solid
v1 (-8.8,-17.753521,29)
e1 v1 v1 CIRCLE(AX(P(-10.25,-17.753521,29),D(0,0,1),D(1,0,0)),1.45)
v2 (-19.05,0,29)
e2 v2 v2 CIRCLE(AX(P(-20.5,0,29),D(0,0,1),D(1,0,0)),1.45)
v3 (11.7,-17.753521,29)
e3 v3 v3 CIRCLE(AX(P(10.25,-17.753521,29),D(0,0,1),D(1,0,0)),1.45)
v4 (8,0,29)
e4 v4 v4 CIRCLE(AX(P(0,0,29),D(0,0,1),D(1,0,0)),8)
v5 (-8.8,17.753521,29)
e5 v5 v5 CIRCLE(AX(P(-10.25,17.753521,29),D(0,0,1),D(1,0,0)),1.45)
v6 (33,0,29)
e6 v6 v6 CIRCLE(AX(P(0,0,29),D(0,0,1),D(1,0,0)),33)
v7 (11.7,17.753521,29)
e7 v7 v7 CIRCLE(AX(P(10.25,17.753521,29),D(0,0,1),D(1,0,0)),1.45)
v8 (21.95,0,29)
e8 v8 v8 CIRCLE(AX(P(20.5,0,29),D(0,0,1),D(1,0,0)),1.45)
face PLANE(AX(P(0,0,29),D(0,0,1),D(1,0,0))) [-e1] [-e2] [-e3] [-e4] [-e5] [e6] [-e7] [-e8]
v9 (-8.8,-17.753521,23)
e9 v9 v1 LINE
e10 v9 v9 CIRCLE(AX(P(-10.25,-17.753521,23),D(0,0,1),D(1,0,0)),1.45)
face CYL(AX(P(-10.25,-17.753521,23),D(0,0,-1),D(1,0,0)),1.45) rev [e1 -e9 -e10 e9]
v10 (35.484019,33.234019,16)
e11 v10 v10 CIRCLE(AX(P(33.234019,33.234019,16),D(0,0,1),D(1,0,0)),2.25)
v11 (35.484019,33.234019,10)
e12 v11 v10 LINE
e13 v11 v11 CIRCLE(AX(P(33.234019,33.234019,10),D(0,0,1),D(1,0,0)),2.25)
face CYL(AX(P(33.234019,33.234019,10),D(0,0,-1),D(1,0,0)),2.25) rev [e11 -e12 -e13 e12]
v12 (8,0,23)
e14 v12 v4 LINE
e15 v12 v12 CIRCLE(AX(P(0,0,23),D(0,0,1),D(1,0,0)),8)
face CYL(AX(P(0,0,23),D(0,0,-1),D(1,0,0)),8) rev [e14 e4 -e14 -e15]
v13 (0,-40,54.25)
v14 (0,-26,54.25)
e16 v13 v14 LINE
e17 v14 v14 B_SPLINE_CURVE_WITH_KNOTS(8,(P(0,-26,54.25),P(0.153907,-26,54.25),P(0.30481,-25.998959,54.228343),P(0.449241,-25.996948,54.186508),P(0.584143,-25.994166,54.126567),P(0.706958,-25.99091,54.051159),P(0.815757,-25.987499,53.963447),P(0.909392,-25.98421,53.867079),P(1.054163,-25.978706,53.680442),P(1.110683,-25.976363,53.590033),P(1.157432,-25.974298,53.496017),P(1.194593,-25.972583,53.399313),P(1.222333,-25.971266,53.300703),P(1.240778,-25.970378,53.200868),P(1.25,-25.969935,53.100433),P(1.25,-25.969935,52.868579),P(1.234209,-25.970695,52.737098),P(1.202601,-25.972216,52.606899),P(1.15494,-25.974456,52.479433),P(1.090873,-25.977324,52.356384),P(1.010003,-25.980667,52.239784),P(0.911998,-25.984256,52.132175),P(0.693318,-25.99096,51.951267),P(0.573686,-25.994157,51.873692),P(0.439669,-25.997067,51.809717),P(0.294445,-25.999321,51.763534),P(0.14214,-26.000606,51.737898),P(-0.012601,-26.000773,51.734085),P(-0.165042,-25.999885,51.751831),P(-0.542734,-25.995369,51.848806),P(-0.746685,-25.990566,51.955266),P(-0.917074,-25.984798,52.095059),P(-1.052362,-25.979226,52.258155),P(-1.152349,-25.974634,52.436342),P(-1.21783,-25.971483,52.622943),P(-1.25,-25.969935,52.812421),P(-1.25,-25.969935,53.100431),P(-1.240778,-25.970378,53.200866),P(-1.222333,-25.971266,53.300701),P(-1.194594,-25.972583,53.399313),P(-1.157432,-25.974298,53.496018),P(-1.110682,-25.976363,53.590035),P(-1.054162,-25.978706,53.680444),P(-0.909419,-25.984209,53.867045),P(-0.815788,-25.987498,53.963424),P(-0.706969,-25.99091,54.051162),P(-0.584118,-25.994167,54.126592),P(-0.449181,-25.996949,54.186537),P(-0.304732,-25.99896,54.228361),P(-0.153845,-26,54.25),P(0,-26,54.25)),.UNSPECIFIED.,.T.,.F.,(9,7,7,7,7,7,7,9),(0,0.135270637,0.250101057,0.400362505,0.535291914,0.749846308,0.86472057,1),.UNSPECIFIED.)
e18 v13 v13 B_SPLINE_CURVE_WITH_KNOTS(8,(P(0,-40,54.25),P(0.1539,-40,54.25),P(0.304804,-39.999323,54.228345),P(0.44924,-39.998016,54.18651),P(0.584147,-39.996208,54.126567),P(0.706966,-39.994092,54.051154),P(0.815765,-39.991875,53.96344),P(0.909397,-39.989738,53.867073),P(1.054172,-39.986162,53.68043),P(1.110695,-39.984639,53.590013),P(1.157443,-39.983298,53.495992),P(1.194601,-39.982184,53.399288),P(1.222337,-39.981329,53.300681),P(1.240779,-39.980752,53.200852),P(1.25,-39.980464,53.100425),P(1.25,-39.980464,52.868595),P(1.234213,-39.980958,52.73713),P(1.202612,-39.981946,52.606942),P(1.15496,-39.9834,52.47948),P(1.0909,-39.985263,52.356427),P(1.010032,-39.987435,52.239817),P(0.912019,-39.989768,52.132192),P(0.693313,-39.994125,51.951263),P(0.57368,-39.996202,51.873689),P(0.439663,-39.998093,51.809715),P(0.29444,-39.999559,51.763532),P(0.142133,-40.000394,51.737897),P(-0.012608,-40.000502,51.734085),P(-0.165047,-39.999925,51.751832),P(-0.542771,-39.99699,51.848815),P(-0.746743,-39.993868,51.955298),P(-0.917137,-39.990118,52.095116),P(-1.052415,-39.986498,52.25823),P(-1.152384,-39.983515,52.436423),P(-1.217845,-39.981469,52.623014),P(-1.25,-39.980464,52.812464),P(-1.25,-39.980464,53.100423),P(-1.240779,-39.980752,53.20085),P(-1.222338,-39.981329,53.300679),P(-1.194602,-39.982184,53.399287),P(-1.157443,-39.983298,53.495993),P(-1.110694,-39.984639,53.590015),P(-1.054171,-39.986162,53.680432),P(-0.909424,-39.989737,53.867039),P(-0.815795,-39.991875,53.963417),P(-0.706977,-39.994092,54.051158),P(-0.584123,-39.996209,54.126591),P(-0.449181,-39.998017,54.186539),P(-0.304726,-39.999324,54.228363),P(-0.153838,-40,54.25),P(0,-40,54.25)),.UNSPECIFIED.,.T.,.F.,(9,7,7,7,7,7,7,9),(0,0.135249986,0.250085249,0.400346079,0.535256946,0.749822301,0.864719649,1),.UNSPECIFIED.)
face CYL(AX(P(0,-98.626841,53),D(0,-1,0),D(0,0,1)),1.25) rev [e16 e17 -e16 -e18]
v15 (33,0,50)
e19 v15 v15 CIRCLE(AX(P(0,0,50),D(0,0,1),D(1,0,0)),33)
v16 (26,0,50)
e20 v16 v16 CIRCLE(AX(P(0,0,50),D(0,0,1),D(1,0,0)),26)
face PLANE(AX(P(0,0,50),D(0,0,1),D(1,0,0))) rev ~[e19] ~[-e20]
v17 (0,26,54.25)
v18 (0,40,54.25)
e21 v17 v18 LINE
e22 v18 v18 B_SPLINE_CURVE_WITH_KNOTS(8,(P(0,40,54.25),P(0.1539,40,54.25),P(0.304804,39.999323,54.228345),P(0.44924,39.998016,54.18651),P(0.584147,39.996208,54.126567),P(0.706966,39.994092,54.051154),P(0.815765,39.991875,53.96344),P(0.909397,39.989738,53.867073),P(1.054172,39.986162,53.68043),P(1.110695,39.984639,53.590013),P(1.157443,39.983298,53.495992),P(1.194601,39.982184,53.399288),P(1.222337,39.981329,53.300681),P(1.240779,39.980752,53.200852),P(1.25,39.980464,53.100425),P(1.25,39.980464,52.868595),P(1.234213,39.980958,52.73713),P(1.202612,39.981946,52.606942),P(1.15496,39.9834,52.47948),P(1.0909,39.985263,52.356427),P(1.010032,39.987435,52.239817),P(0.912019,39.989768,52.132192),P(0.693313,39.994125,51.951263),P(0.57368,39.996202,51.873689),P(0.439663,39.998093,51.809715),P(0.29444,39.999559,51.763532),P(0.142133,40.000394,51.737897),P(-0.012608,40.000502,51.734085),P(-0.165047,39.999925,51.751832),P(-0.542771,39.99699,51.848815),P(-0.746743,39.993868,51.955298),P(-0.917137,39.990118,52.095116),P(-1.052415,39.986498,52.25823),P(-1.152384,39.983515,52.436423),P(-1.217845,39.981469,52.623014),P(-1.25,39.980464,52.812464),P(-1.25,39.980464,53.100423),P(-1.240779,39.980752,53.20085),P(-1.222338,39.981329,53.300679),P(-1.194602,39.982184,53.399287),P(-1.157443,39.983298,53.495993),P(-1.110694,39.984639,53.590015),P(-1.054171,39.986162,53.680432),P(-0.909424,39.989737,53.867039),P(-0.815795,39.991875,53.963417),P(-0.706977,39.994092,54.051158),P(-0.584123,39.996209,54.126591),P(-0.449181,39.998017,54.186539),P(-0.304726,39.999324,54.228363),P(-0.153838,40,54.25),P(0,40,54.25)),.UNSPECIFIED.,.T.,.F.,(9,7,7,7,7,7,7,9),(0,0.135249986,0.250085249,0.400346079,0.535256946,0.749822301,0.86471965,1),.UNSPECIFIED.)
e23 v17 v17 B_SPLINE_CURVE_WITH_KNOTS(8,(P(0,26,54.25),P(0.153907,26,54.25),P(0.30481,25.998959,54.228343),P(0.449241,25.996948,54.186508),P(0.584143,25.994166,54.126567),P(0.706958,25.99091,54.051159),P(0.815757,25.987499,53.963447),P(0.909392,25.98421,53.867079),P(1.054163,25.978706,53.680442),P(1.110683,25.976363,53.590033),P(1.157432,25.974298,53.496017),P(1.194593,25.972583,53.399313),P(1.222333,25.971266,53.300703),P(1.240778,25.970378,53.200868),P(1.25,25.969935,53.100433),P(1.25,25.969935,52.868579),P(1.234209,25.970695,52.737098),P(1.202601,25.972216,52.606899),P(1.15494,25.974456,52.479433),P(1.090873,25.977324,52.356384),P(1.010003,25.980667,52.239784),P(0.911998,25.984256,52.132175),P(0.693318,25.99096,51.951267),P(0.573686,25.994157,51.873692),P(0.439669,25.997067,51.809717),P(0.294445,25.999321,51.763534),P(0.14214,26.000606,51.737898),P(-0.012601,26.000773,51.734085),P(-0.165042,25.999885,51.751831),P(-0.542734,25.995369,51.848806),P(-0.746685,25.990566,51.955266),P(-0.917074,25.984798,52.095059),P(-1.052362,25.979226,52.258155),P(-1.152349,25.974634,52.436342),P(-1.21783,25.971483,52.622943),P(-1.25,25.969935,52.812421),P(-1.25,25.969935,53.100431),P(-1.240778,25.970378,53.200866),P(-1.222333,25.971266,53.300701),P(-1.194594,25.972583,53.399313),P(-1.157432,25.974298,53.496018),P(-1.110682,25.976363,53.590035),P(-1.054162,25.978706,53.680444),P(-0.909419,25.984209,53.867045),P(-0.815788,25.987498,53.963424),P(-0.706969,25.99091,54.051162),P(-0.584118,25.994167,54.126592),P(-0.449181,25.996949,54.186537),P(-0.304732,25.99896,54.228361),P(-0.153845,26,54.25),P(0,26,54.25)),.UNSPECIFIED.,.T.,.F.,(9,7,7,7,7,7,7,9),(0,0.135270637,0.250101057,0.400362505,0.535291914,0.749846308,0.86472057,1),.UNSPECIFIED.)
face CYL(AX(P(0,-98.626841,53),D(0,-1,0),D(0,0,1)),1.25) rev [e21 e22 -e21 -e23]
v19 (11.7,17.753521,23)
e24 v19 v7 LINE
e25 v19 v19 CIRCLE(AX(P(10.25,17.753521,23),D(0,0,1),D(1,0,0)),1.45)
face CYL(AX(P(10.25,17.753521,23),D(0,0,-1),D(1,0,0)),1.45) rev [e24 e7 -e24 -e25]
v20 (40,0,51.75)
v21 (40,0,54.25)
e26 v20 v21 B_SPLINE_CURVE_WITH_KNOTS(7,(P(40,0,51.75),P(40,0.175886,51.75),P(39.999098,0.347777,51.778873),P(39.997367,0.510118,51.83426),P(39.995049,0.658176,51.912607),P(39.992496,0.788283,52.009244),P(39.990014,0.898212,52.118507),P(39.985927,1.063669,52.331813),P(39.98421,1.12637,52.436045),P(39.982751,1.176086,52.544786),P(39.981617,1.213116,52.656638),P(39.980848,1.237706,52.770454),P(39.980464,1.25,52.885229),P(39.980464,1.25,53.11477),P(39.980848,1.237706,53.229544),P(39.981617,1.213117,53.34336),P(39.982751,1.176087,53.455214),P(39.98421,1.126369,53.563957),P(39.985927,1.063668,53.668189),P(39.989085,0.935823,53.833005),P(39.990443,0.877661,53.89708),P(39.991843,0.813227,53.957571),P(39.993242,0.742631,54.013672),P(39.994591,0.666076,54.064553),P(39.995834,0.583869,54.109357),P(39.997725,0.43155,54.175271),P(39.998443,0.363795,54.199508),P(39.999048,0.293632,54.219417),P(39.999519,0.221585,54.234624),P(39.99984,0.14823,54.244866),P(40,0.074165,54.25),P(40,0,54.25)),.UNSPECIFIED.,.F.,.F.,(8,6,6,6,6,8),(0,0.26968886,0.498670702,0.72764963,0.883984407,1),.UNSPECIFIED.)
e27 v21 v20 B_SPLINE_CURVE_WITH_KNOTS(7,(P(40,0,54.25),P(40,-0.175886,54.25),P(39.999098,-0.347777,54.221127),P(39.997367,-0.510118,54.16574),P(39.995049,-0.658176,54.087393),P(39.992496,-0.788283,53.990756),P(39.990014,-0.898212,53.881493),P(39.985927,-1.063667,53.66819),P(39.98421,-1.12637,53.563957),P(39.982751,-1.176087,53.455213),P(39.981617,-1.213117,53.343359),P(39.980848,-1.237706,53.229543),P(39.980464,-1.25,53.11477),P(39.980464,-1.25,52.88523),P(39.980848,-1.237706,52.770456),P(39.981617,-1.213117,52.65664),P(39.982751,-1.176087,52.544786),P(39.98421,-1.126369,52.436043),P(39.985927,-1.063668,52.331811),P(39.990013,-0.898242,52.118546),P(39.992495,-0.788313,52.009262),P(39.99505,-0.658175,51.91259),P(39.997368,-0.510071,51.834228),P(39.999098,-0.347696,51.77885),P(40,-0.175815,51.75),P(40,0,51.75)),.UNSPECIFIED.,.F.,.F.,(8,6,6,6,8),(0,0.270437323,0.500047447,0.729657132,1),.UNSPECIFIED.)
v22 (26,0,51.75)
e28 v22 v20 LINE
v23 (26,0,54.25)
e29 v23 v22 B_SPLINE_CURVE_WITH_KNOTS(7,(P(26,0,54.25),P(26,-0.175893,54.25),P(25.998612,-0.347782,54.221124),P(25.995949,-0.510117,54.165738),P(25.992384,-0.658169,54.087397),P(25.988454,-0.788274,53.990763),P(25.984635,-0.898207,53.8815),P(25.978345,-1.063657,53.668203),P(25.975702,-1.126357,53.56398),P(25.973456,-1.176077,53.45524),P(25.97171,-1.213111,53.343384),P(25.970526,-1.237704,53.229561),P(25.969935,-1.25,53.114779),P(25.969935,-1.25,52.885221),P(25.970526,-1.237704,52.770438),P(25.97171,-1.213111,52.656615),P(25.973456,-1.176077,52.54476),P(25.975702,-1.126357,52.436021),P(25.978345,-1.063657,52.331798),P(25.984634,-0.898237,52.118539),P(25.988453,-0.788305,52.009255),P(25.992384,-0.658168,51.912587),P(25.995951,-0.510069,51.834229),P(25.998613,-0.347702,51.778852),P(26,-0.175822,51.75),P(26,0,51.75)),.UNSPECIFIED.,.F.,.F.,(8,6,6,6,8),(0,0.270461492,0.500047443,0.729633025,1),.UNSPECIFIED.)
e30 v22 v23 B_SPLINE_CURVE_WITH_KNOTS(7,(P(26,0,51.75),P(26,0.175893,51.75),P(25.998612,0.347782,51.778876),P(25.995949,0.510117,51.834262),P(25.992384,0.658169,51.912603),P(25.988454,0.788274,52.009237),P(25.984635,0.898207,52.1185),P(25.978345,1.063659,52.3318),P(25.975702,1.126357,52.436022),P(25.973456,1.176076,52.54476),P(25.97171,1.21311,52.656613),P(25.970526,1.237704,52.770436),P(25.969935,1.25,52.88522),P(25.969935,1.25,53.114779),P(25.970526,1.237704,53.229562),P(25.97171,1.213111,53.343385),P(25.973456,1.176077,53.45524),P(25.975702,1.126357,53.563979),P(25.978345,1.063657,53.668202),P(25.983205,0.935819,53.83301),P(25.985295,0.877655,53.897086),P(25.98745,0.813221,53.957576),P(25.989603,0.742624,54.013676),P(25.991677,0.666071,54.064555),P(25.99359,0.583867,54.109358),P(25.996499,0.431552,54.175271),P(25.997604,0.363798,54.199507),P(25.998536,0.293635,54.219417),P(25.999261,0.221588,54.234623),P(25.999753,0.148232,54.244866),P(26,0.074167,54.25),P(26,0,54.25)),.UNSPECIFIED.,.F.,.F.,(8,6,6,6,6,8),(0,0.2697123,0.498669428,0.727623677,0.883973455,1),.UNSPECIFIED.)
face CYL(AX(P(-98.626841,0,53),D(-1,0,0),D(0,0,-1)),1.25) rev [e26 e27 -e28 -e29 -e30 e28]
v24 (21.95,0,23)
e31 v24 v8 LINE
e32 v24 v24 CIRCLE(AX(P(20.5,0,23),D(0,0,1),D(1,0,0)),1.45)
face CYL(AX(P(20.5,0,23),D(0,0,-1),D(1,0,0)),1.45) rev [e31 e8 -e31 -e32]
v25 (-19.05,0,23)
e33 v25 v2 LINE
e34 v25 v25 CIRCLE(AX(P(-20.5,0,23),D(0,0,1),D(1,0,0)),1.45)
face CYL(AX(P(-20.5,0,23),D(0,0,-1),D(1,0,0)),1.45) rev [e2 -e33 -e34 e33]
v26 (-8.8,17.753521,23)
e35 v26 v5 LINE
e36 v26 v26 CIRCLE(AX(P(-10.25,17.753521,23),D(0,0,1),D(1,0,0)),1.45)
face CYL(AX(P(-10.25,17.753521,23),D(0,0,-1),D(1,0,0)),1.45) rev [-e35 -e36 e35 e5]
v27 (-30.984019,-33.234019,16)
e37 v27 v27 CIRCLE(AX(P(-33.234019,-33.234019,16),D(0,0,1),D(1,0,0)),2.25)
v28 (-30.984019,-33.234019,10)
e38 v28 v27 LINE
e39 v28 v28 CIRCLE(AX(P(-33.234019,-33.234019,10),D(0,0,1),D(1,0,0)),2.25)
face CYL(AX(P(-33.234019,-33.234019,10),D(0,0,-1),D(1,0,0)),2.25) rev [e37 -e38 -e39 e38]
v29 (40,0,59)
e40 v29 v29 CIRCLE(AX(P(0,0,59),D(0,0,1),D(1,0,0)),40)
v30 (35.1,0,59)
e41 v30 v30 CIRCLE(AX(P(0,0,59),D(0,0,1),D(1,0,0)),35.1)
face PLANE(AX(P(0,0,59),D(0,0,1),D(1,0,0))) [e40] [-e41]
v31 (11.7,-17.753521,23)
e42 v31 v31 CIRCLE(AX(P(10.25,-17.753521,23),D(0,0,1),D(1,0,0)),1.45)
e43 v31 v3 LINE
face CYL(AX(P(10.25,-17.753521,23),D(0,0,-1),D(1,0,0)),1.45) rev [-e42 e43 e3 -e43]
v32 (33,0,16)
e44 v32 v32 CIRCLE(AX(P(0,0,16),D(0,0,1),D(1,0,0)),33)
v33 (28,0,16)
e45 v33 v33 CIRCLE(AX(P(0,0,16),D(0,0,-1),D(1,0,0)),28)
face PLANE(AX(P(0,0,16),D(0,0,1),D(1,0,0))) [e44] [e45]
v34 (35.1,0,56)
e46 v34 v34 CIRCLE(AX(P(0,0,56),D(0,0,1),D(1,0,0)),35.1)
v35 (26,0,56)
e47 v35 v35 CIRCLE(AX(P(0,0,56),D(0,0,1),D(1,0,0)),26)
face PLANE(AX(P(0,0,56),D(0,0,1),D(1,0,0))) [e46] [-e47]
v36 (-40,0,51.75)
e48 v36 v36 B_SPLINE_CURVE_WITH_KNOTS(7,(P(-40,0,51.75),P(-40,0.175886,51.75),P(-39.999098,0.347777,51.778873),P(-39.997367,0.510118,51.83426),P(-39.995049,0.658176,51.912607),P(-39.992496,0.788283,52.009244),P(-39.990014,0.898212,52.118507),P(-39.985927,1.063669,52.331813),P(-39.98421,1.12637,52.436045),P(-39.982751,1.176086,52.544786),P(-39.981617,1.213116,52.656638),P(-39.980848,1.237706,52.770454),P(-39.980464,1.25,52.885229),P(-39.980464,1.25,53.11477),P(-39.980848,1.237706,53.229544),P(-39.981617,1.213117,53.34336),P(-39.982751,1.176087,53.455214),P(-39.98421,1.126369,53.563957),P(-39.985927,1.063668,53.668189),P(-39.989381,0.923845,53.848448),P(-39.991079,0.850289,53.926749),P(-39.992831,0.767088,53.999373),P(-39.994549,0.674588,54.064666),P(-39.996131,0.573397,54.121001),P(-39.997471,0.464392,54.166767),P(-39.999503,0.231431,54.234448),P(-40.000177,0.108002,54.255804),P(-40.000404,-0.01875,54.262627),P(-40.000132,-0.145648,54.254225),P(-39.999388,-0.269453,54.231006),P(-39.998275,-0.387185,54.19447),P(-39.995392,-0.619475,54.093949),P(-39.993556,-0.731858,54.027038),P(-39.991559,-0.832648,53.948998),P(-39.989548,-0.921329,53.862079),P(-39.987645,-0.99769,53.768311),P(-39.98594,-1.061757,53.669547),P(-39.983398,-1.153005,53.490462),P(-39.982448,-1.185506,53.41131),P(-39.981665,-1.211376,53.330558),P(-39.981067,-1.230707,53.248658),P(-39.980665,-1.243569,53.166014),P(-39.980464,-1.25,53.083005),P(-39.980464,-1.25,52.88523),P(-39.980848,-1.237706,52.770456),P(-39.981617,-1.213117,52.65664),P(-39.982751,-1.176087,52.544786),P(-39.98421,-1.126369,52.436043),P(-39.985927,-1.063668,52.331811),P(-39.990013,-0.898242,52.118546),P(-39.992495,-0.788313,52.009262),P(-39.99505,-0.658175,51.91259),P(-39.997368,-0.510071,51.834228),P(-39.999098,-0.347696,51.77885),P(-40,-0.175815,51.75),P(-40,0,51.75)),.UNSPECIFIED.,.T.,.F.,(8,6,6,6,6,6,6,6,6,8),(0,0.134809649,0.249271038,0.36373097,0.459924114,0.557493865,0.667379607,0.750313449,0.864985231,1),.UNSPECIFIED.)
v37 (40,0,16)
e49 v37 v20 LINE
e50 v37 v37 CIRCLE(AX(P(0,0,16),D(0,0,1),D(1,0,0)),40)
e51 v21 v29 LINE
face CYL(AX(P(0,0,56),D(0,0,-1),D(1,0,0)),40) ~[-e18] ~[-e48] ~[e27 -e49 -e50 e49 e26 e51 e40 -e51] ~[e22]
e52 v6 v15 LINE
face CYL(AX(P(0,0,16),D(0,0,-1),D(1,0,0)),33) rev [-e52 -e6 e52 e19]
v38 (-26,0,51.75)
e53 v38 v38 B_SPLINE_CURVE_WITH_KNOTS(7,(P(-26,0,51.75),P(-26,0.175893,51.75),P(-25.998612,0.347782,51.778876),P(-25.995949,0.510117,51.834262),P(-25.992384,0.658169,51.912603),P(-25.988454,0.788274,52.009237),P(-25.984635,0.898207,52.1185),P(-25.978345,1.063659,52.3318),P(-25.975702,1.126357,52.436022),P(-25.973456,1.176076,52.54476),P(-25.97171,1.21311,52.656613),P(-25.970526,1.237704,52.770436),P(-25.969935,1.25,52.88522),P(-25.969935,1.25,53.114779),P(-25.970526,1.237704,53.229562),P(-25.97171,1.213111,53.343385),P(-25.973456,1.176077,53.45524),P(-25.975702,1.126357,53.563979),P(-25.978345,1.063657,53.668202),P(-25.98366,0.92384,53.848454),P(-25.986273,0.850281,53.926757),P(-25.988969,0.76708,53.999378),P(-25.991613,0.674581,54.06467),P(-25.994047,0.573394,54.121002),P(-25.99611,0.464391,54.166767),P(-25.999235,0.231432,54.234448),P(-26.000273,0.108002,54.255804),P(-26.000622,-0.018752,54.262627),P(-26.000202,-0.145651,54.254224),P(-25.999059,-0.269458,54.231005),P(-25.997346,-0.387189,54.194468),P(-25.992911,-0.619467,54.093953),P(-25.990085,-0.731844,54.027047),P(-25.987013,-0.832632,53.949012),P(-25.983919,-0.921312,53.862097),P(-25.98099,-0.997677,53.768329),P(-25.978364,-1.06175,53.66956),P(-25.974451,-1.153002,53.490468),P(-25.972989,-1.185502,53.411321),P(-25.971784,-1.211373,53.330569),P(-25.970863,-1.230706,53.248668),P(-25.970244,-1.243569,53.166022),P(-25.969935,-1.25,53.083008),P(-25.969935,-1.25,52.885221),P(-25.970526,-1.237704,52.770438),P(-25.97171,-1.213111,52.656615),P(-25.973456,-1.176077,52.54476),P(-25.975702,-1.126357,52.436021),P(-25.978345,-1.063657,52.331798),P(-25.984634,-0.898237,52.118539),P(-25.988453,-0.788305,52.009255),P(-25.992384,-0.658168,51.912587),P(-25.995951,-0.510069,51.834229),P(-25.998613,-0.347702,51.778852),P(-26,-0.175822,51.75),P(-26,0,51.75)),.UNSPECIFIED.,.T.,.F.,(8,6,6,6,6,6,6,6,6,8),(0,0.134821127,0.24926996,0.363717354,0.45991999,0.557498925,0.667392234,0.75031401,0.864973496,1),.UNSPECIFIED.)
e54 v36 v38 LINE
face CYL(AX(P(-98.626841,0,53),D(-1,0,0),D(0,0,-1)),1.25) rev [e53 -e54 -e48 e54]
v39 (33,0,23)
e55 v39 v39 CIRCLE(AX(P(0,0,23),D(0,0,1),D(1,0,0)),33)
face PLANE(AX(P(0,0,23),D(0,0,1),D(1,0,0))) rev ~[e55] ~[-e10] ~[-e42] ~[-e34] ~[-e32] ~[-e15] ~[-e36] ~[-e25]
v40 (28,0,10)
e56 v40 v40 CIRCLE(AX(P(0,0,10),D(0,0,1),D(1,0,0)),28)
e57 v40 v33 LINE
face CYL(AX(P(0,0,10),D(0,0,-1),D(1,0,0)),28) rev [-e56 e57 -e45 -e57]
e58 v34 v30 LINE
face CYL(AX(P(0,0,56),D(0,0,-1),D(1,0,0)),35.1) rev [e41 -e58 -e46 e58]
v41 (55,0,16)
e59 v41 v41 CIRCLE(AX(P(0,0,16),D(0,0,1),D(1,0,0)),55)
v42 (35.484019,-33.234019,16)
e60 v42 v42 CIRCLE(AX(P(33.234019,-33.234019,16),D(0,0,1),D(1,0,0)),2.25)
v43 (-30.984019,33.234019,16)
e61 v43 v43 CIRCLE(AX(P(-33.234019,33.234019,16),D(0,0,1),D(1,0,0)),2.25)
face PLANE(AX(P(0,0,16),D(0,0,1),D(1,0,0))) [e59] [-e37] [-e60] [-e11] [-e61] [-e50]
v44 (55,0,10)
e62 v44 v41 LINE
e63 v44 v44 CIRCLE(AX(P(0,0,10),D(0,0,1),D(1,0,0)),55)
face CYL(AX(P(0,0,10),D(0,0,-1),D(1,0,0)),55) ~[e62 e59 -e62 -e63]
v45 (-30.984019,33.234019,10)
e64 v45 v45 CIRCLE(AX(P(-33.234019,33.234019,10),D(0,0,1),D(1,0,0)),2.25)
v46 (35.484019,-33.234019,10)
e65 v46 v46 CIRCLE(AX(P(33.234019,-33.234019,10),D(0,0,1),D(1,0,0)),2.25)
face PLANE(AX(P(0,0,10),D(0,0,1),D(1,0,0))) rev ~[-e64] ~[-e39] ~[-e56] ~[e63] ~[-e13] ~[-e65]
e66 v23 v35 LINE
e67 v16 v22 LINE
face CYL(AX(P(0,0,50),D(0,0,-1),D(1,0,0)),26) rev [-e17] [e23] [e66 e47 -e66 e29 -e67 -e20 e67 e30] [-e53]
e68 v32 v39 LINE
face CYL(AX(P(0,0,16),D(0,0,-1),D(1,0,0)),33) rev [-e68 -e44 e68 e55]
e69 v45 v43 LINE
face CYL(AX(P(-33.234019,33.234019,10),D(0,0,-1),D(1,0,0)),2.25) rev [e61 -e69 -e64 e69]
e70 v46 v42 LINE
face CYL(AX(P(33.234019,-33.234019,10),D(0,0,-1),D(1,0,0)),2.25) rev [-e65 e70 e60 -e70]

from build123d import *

# Parameters (mm, degrees)
BRIDA_START                               = 10
SK_BRIDA_R                                = 55
BRIDA_DEPTH                               = 6
TUBO_START                                = 16
SK_TUBO_R                                 = 40
SK_TUBO_R_2                               = 33
TUBO_DEPTH                                = 34
ARO_RODAMIENTO_START                      = 50
SK_ARO_RODAMIENTO_R                       = 40
SK_ARO_RODAMIENTO_R_2                     = 26
ARO_RODAMIENTO_DEPTH                      = 6
ASIENTO_ARANDELA_ALOJAMIENTO_51110_START  = 56
SK_ASIENTO_ARANDELA_ALOJAMIENTO_51110_R   = 40
SK_ASIENTO_ARANDELA_ALOJAMIENTO_51110_R_2 = 35.1
ASIENTO_ARANDELA_ALOJAMIENTO_51110_DEPTH  = 3
PLACA_MOTOR_START                         = 23
SK_PLACA_MOTOR_R                          = 33
PLACA_MOTOR_DEPTH                         = 6
HUECO_BRIDA_START                         = 10
SK_HUECO_BRIDA_R                          = 28
HUECO_BRIDA_DEPTH                         = 13
CENTRO_MOTOR_START                        = 23
SK_CENTRO_MOTOR_R                         = 8
CENTRO_MOTOR_DEPTH                        = 6
PASANTES_M2_5_MOTOR_START                 = 23
SK_PASANTES_M2_5_MOTOR_R                  = 1.45
PASANTES_M2_5_MOTOR_DEPTH                 = 6
PASANTES_M4_BRIDA_START                   = 10
SK_PASANTES_M4_BRIDA_R                    = 2.25
PASANTES_M4_BRIDA_DEPTH                   = 6
ROSCA_M3_CUBIERTA_A_DEPTH                 = 98.626840572
ROSCA_M3_CUBIERTA_A_DEPTH_BACK            = 98.626840572
CROQUIS1_R                                = 1.25
ROSCA_M3_CUBIERTA_B_DEPTH                 = 98.626840632
ROSCA_M3_CUBIERTA_B_DEPTH_BACK            = 98.626840632
CROQUIS2_R                                = 1.25


with BuildPart() as part:
    # Sk_Brida → Brida (new body)
    with BuildSketch(Plane.XY.offset(BRIDA_START)):
        Circle(SK_BRIDA_R)
    extrude(amount=BRIDA_DEPTH)

    # Sk_Tubo → Tubo (add)
    with BuildSketch(Plane.XY.offset(TUBO_START)):
        Circle(SK_TUBO_R)
        Circle(SK_TUBO_R_2, mode=Mode.SUBTRACT)
    extrude(amount=TUBO_DEPTH)

    # Sk_Aro_rodamiento → Aro_rodamiento (add)
    with BuildSketch(Plane.XY.offset(ARO_RODAMIENTO_START)):
        Circle(SK_ARO_RODAMIENTO_R)
        Circle(SK_ARO_RODAMIENTO_R_2, mode=Mode.SUBTRACT)
    extrude(amount=ARO_RODAMIENTO_DEPTH)

    # Sk_Asiento_arandela_alojamiento_51110 → Asiento_arandela_alojamiento_51110 (add)
    with BuildSketch(Plane.XY.offset(ASIENTO_ARANDELA_ALOJAMIENTO_51110_START)):
        Circle(SK_ASIENTO_ARANDELA_ALOJAMIENTO_51110_R)
        Circle(SK_ASIENTO_ARANDELA_ALOJAMIENTO_51110_R_2, mode=Mode.SUBTRACT)
    extrude(amount=ASIENTO_ARANDELA_ALOJAMIENTO_51110_DEPTH)

    # Sk_Placa_motor → Placa_motor (add)
    with BuildSketch(Plane.XY.offset(PLACA_MOTOR_START)):
        Circle(SK_PLACA_MOTOR_R)
    extrude(amount=PLACA_MOTOR_DEPTH)

    # Sk_Hueco_brida → Hueco_brida (cut)
    with BuildSketch(Plane.XY.offset(HUECO_BRIDA_START)):
        Circle(SK_HUECO_BRIDA_R)
    extrude(amount=HUECO_BRIDA_DEPTH, mode=Mode.SUBTRACT)

    # Sk_Centro_motor → Centro_motor (cut)
    with BuildSketch(Plane.XY.offset(CENTRO_MOTOR_START)):
        Circle(SK_CENTRO_MOTOR_R)
    extrude(amount=CENTRO_MOTOR_DEPTH, mode=Mode.SUBTRACT)

    # Sk_Pasantes_M2-5_motor → Pasantes_M2-5_motor (cut)
    with BuildSketch(Plane.XY.offset(PASANTES_M2_5_MOTOR_START)):
        with Locations((20.5, 0)):
            Circle(SK_PASANTES_M2_5_MOTOR_R)
        with Locations((10.25, 17.753520778)):
            Circle(SK_PASANTES_M2_5_MOTOR_R)
        with Locations((-10.25, 17.753520778)):
            Circle(SK_PASANTES_M2_5_MOTOR_R)
        with Locations((-20.5, 0)):
            Circle(SK_PASANTES_M2_5_MOTOR_R)
        with Locations((-10.25, -17.753520778)):
            Circle(SK_PASANTES_M2_5_MOTOR_R)
        with Locations((10.25, -17.753520778)):
            Circle(SK_PASANTES_M2_5_MOTOR_R)
    extrude(amount=PASANTES_M2_5_MOTOR_DEPTH, mode=Mode.SUBTRACT)

    # Sk_Pasantes_M4_brida → Pasantes_M4_brida (cut)
    with BuildSketch(Plane.XY.offset(PASANTES_M4_BRIDA_START)):
        with Locations((33.234018716, 33.234018716)):
            Circle(SK_PASANTES_M4_BRIDA_R)
        with Locations((-33.234018716, 33.234018716)):
            Circle(SK_PASANTES_M4_BRIDA_R)
        with Locations((-33.234018716, -33.234018716)):
            Circle(SK_PASANTES_M4_BRIDA_R)
        with Locations((33.234018716, -33.234018716)):
            Circle(SK_PASANTES_M4_BRIDA_R)
    extrude(amount=PASANTES_M4_BRIDA_DEPTH, mode=Mode.SUBTRACT)

    # Croquis1 → Rosca_M3_cubierta_A (cut, two sides: drawn at the far end of the back side and taken through both)
    with BuildSketch(Plane(origin=(0, 0, 0), x_dir=(1, 0, 0), z_dir=(0, 1, 0)).offset(-ROSCA_M3_CUBIERTA_A_DEPTH_BACK)):
        with Locations(Location((0, -53, 0), (0, 0, 270))):
            Circle(CROQUIS1_R)
    extrude(amount=ROSCA_M3_CUBIERTA_A_DEPTH + ROSCA_M3_CUBIERTA_A_DEPTH_BACK, mode=Mode.SUBTRACT)

    # Croquis2 → Rosca_M3_cubierta_B (cut, two sides: drawn at the far end of the back side and taken through both)
    with BuildSketch(Plane(origin=(0, 0, 0), x_dir=(0, 0, -1), z_dir=(1, 0, 0)).offset(-ROSCA_M3_CUBIERTA_B_DEPTH_BACK)):
        with Locations((-53, 0)):
            Circle(CROQUIS2_R)
    extrude(amount=ROSCA_M3_CUBIERTA_B_DEPTH + ROSCA_M3_CUBIERTA_B_DEPTH_BACK, mode=Mode.SUBTRACT)


solid = part.part
